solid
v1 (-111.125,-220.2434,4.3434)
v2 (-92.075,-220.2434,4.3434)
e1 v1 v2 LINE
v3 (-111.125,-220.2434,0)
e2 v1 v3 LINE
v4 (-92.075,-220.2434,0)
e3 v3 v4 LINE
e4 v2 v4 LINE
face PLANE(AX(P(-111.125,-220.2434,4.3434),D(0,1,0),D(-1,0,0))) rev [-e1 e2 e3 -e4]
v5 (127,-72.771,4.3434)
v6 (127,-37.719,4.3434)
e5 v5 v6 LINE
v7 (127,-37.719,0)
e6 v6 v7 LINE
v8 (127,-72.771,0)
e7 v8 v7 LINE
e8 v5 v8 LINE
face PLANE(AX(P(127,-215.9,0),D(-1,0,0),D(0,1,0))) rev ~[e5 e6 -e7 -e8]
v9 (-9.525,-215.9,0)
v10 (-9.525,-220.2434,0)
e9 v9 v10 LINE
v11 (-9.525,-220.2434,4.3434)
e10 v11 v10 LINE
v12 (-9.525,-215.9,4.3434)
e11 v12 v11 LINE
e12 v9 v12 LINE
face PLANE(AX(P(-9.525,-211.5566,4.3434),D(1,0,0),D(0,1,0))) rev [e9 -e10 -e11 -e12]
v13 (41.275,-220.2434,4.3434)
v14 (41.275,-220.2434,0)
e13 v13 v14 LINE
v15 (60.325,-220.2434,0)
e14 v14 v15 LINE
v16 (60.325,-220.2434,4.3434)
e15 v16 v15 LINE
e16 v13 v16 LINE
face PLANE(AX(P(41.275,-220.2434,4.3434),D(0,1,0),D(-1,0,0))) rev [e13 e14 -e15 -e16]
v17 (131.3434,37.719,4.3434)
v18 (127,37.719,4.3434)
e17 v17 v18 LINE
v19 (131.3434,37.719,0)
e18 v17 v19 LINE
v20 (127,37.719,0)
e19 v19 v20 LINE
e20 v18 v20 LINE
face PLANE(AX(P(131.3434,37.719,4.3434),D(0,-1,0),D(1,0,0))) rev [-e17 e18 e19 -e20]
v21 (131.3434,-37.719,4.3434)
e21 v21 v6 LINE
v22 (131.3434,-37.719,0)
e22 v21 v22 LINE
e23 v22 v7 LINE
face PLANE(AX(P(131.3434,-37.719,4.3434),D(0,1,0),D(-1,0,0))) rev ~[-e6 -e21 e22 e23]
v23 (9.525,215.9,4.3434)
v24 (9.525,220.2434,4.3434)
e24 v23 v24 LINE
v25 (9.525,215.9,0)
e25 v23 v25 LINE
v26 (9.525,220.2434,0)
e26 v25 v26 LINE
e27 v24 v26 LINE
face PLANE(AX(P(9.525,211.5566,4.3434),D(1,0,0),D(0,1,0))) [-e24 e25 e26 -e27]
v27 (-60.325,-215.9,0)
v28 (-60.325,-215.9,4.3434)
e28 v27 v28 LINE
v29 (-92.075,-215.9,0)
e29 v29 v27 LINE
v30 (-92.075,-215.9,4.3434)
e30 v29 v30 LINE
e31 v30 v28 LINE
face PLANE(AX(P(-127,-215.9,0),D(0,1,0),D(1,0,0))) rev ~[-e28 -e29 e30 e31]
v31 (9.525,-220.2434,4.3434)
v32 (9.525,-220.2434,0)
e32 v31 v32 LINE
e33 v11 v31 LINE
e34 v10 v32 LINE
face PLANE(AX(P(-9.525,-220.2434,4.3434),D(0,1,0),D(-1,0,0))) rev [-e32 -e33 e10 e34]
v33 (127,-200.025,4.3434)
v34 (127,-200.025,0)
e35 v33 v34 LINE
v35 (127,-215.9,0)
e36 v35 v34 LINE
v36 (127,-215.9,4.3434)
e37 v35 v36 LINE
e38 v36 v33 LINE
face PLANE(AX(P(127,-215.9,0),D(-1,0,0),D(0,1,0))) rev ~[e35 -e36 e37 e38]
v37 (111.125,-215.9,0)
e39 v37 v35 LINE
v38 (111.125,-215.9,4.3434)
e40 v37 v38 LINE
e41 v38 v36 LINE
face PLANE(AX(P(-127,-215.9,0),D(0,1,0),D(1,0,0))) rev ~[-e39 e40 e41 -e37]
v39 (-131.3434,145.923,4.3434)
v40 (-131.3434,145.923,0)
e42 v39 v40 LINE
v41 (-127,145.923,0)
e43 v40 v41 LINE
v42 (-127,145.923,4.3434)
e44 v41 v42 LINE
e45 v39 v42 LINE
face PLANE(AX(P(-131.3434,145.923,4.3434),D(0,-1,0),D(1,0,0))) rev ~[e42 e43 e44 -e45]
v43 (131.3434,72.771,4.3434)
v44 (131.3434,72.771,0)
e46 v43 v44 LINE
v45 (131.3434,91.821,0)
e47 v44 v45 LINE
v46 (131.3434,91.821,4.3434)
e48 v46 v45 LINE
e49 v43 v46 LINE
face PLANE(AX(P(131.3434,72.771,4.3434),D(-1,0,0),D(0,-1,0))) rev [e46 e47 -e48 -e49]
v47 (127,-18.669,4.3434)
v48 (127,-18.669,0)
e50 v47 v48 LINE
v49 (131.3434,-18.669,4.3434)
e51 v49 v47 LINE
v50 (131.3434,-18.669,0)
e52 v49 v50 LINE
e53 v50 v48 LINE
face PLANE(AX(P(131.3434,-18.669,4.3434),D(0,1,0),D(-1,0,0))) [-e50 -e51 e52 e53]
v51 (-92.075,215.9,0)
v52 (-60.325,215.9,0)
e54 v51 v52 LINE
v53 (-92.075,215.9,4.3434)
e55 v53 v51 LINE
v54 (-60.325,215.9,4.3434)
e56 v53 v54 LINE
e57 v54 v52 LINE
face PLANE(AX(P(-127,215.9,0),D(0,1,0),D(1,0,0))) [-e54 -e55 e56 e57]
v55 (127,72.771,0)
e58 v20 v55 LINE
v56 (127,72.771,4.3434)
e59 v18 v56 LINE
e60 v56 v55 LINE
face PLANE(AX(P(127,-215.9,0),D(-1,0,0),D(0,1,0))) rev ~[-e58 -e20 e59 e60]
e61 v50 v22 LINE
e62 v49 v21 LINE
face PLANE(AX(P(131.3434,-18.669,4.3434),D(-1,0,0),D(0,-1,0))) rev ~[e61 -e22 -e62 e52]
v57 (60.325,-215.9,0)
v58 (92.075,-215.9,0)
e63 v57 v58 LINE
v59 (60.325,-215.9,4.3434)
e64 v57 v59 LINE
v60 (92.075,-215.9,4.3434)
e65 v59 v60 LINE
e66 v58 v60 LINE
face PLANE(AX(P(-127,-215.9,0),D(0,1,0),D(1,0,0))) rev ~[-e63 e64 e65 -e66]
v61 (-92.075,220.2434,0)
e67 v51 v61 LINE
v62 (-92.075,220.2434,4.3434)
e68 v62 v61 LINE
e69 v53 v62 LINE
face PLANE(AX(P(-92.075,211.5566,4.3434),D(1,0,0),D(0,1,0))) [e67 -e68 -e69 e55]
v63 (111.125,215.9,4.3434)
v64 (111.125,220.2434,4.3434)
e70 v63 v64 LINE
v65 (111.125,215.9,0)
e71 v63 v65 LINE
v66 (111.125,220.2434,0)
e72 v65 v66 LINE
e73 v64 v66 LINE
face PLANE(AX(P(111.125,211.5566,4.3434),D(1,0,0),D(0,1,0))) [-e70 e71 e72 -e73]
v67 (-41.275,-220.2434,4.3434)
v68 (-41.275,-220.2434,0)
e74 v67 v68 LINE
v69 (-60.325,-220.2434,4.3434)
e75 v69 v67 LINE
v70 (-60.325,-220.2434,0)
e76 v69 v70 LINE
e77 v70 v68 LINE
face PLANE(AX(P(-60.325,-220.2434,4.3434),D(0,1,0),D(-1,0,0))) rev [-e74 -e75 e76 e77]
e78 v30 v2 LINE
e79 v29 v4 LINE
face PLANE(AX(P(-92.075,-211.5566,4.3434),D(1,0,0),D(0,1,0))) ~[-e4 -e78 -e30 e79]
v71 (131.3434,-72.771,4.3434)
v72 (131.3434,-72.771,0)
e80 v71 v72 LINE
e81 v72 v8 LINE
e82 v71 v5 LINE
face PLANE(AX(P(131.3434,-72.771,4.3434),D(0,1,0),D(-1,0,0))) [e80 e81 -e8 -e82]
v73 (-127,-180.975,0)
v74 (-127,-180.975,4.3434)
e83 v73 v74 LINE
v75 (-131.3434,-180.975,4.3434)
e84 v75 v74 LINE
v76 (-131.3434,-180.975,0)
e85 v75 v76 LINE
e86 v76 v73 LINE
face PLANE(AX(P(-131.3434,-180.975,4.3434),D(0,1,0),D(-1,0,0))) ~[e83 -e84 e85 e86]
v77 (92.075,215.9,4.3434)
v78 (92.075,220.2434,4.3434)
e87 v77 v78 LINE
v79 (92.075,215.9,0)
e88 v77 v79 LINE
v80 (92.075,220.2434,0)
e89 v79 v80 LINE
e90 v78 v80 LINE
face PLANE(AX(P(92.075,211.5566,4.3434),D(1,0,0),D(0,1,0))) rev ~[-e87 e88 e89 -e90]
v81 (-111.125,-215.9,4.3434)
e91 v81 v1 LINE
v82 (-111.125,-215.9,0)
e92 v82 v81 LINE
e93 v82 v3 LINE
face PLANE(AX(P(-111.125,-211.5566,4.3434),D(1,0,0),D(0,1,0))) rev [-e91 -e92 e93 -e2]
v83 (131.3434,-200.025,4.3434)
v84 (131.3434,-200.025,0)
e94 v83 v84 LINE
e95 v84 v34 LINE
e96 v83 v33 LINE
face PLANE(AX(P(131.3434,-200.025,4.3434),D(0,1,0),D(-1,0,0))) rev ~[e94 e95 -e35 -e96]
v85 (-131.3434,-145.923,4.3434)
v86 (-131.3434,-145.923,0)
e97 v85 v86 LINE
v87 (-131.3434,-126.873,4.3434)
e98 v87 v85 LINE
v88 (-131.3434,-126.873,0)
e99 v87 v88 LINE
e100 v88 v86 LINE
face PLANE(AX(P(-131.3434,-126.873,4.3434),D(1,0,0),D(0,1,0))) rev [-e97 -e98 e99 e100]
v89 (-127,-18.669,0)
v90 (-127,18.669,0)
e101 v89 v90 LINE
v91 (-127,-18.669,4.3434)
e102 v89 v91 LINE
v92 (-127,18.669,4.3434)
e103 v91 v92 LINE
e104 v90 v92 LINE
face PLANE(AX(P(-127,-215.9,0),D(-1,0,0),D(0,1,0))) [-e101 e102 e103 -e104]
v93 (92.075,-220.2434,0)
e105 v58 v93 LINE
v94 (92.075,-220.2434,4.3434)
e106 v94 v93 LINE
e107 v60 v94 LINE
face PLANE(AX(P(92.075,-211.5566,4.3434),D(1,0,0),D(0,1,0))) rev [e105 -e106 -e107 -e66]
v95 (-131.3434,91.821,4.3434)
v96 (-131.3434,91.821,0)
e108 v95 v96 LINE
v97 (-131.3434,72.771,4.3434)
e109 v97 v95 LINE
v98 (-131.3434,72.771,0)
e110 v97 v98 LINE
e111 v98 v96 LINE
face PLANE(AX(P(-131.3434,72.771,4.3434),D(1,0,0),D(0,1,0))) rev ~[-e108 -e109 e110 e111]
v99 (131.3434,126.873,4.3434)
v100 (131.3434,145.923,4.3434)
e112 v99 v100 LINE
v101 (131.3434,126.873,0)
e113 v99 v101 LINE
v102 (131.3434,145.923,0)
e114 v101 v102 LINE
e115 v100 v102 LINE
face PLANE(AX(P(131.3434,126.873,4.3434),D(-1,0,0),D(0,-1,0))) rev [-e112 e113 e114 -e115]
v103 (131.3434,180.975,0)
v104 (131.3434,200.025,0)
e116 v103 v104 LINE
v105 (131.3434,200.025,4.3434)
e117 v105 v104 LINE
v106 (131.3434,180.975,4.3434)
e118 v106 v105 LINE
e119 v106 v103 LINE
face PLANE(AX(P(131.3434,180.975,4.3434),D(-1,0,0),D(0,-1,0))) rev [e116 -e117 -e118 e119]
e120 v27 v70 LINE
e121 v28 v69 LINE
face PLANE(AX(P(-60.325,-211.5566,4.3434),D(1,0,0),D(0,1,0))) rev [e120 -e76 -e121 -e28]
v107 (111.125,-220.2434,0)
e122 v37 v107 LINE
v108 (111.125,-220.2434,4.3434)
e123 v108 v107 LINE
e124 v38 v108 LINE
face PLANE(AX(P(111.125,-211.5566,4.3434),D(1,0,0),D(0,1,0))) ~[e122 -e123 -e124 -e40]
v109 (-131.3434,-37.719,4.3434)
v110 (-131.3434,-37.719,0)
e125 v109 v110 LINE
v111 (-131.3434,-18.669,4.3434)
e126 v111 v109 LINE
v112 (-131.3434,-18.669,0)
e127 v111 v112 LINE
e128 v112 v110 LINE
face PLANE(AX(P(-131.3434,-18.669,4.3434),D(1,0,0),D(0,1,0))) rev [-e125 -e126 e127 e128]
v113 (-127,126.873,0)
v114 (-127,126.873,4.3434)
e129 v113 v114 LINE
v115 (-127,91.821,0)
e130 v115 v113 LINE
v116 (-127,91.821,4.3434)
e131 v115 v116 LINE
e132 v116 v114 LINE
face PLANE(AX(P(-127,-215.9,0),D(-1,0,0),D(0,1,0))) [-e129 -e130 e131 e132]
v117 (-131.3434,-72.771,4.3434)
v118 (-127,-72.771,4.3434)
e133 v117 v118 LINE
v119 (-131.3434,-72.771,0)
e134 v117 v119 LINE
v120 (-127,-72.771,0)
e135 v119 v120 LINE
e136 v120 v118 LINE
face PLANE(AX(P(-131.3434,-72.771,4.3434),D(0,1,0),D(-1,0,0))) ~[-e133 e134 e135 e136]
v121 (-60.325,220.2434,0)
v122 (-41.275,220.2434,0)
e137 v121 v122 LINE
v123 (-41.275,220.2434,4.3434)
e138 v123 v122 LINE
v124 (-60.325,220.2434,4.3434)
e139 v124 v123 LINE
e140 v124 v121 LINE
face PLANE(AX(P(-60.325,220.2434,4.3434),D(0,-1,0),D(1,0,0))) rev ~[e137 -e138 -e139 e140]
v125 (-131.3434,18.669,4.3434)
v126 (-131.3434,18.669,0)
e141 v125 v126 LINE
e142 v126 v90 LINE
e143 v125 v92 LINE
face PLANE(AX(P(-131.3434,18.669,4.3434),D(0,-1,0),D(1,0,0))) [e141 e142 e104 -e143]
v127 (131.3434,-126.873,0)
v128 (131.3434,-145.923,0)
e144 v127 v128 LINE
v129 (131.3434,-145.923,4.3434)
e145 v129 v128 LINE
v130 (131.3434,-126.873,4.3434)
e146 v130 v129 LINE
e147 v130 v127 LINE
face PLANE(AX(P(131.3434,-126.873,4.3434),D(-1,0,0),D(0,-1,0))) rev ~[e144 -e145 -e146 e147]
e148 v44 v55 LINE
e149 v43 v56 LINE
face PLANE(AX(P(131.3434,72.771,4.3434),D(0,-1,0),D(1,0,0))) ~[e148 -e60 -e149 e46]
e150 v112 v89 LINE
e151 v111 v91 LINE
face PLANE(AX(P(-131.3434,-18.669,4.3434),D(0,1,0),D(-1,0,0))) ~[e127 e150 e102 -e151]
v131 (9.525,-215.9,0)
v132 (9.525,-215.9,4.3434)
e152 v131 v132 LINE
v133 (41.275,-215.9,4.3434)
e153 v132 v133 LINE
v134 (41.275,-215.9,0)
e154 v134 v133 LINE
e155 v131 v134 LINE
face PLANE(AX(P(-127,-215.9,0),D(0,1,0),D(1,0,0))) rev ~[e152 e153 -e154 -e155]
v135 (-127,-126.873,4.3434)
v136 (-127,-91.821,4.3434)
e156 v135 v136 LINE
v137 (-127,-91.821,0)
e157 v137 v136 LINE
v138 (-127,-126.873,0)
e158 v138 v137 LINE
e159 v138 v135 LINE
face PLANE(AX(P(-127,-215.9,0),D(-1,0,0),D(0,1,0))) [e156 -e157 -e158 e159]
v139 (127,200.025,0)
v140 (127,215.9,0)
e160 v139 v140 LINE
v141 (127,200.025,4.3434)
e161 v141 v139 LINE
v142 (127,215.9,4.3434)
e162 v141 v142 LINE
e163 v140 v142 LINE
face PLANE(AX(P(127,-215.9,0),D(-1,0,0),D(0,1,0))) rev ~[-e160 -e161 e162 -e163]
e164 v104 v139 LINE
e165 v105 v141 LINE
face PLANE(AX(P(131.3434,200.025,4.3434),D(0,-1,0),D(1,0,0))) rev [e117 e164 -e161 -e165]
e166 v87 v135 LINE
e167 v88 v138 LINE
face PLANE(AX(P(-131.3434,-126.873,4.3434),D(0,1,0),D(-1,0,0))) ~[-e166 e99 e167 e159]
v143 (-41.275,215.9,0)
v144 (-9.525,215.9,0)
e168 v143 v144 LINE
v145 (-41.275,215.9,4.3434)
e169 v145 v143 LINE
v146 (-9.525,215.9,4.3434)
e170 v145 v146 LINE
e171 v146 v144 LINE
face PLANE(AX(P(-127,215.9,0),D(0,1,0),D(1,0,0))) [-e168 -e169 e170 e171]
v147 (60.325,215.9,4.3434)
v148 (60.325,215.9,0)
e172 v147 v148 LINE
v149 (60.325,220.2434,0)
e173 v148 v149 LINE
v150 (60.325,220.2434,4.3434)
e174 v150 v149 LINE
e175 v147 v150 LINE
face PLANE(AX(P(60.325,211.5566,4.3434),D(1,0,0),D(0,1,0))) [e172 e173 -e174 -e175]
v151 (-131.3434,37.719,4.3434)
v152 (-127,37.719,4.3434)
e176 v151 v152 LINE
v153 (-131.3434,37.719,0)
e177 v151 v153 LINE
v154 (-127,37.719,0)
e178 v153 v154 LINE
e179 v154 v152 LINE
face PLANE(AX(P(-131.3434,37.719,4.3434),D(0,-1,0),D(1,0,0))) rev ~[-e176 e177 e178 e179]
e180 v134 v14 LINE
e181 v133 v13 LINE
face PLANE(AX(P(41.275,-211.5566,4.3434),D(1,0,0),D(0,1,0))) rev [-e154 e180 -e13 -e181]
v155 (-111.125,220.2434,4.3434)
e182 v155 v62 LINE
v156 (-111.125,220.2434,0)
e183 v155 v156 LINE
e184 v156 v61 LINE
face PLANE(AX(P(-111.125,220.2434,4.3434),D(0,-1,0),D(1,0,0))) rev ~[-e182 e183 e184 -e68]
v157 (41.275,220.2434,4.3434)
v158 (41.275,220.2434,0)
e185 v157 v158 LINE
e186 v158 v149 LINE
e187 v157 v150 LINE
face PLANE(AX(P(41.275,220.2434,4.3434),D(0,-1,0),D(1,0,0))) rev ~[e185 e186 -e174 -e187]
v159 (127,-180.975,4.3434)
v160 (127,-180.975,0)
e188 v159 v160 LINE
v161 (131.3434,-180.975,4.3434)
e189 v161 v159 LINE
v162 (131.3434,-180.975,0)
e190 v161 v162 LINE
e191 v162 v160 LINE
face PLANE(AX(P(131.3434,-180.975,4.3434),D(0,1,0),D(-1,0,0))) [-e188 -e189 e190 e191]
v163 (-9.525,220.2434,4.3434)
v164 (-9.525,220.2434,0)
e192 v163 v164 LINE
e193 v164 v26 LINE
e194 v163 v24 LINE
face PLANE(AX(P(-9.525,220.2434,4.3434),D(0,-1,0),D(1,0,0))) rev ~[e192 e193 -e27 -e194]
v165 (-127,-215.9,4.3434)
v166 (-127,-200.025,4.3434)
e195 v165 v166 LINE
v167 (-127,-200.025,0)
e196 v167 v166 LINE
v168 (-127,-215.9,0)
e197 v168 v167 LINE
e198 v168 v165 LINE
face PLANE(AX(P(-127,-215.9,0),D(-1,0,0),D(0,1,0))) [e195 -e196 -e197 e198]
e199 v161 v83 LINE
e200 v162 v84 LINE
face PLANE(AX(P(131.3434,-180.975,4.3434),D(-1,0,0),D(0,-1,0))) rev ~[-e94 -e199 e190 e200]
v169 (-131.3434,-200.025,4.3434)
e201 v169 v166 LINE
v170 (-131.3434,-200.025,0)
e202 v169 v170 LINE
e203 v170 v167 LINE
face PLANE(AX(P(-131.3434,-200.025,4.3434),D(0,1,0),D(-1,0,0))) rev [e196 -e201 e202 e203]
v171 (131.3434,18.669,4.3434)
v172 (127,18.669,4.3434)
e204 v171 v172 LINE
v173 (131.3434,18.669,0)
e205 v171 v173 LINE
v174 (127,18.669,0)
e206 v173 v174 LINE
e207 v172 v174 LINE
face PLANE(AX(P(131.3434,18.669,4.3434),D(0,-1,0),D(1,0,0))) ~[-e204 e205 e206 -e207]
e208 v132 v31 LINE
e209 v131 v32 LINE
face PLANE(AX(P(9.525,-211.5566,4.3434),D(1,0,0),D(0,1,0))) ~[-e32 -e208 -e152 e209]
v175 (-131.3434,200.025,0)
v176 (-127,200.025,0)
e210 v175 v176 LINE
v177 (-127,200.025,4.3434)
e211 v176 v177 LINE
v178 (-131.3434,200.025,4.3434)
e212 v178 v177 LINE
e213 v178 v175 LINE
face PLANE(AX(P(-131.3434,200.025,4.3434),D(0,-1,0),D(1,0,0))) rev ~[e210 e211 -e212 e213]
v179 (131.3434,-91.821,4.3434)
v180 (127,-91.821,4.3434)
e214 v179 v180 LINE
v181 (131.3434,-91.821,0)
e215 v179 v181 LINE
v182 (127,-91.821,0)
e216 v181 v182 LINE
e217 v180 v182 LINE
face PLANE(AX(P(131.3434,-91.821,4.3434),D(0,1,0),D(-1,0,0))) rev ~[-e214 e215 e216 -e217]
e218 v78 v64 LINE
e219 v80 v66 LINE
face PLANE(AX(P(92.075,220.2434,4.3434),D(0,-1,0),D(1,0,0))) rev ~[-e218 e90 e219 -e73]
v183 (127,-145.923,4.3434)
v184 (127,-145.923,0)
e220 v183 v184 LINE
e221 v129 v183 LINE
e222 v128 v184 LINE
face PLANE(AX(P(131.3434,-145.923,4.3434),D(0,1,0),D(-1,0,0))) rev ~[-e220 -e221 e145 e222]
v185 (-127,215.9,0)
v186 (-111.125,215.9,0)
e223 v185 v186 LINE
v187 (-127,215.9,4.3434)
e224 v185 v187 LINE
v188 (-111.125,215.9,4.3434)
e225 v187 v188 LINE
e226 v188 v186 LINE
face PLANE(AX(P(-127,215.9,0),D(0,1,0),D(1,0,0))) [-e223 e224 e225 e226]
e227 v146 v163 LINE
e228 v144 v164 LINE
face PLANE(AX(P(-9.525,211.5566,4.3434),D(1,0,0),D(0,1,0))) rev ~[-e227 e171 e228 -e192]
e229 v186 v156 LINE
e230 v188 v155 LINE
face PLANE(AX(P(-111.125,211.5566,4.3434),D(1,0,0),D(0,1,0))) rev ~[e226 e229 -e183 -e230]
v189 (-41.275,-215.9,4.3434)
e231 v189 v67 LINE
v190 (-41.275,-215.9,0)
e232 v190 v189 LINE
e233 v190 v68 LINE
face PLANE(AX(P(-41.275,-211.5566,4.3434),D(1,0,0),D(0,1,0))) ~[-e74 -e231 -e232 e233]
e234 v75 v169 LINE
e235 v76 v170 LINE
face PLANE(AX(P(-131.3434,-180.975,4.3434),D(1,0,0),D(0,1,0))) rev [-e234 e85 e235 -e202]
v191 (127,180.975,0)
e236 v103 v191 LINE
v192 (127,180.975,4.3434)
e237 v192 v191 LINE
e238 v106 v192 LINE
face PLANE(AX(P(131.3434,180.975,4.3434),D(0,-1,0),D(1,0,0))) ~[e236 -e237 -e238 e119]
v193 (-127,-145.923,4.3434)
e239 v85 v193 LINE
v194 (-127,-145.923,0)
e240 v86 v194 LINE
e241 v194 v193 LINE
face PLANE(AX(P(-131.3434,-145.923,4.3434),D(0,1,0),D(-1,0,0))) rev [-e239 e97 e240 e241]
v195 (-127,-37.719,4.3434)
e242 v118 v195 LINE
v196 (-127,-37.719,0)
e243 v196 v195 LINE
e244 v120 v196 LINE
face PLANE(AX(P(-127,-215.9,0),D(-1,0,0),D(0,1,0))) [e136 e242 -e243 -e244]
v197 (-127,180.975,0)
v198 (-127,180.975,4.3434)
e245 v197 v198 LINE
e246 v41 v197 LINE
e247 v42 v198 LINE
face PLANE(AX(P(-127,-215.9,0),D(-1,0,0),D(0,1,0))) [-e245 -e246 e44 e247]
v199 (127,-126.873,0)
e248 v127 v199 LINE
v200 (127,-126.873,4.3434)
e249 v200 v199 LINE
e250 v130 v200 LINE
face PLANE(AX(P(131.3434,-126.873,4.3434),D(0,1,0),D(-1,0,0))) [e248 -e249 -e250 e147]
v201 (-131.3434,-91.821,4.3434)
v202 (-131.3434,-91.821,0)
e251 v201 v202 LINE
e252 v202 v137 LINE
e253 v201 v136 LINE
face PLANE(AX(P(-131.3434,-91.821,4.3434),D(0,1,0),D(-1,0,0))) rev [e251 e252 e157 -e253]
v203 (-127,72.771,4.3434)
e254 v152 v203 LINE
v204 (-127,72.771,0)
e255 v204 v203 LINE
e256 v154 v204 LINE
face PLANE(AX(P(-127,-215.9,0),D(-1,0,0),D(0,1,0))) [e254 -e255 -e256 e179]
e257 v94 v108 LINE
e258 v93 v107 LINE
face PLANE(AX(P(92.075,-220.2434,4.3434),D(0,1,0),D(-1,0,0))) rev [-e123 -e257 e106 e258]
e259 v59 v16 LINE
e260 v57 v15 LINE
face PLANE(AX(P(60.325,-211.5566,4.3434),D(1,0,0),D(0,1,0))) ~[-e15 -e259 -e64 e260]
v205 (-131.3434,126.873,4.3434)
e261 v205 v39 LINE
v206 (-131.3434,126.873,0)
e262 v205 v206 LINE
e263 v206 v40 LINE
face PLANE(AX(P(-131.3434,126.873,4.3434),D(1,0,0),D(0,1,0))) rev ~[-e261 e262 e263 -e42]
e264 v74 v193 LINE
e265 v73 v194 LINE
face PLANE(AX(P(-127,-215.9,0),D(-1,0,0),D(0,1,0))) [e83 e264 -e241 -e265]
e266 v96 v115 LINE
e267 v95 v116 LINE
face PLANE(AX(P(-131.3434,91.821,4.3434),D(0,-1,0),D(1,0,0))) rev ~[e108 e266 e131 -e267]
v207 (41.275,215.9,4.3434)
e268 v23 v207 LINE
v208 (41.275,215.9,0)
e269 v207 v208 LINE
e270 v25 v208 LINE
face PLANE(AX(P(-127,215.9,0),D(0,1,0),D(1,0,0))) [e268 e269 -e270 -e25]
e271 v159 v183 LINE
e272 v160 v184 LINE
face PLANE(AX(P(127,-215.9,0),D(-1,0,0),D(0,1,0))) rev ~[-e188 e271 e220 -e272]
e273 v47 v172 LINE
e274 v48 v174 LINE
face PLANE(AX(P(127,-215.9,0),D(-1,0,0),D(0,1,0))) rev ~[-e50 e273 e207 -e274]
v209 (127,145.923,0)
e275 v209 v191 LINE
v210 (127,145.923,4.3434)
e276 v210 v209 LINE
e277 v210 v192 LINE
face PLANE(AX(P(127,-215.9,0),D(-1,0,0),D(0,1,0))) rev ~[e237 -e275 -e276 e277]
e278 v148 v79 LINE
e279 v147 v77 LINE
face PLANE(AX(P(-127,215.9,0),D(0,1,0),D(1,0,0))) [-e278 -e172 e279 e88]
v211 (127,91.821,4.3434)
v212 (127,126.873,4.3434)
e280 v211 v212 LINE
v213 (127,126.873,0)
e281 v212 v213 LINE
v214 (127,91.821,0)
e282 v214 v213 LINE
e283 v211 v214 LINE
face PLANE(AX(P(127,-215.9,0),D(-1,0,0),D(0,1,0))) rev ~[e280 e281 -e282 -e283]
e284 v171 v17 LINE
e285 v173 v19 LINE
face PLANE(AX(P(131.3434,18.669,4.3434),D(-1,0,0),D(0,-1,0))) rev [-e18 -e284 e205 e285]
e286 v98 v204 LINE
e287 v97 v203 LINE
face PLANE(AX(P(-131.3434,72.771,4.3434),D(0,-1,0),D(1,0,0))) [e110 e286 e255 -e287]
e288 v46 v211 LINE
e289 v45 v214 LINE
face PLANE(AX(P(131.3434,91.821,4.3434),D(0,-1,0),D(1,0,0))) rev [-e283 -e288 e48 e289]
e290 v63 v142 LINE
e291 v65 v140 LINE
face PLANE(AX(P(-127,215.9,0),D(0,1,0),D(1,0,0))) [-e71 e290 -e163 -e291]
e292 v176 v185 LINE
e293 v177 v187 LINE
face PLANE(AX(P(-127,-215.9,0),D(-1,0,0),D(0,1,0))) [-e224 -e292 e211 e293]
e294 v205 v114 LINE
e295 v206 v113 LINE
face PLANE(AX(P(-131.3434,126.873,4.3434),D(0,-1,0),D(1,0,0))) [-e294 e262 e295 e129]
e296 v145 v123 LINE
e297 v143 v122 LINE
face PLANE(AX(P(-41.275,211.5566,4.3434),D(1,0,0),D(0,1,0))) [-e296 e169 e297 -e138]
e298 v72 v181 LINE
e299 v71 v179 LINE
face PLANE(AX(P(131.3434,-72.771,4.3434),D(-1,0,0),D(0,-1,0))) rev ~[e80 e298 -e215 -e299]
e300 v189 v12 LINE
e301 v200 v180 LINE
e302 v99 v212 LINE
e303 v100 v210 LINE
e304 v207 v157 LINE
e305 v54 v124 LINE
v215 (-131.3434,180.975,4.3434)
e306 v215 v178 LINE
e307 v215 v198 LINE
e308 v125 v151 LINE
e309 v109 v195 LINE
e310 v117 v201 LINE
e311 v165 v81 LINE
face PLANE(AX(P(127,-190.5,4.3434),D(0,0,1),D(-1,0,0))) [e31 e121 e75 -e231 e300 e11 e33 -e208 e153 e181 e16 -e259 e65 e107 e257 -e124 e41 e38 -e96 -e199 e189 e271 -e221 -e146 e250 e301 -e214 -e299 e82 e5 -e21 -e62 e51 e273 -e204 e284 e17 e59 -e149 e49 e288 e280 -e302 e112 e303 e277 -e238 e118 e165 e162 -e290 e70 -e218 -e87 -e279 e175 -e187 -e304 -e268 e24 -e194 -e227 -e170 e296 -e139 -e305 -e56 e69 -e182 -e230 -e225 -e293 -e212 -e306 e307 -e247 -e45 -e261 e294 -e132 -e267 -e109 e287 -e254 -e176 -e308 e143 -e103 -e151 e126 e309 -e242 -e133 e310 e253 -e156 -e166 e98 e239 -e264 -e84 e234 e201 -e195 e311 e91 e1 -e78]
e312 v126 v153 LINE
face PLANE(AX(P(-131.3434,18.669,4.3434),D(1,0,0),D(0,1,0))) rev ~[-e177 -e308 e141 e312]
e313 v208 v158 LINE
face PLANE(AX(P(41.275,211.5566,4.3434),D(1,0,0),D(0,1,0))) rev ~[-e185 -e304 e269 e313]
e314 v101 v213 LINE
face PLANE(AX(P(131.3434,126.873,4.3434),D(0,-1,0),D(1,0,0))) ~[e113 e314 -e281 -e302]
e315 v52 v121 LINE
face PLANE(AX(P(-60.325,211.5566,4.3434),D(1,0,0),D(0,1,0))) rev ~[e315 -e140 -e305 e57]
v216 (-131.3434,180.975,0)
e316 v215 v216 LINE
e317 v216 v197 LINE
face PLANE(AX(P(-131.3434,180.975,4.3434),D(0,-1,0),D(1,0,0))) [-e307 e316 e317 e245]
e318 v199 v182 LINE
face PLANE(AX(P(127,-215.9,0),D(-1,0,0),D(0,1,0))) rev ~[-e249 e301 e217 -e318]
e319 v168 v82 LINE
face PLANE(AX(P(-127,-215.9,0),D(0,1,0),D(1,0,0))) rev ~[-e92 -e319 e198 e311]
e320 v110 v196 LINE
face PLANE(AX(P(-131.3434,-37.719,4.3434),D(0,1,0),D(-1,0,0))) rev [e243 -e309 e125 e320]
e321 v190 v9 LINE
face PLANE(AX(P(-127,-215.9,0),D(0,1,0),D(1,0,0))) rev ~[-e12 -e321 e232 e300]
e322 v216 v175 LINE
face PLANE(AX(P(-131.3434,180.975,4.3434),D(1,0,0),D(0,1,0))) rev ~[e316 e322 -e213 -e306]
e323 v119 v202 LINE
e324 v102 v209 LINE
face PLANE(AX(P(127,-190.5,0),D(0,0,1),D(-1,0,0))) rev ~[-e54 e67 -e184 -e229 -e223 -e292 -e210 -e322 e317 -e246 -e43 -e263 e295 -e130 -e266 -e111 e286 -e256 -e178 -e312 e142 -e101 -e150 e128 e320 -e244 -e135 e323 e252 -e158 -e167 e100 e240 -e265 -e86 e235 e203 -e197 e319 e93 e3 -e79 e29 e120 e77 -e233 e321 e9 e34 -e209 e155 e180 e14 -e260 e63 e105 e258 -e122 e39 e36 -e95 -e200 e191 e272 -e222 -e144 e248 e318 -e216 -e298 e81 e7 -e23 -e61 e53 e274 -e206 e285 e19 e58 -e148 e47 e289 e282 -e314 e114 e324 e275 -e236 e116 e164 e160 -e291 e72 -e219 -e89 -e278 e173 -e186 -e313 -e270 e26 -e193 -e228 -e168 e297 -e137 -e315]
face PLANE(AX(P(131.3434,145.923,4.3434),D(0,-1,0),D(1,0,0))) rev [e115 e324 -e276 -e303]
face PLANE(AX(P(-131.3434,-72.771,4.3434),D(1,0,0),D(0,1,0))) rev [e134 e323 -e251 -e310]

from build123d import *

# Parameters (mm, degrees)
SKETCH1_W                 = 254
SKETCH1_H                 = 431.8
BOSS_EXTRUDE1_DEPTH       = 4.3434
SKETCH2_W                 = 8.6868
SKETCH2_H                 = 19.05
SKETCH2_W_2               = 19.05
SKETCH2_H_2               = 8.6868
BOSS_EXTRUDE2_DEPTH       = 4.3434
MIRROR2_COPY_1_SKETCH_W   = 8.6868
MIRROR2_COPY_1_SKETCH_H   = 19.05
MIRROR2_COPY_1_SKETCH_W_2 = 19.05
MIRROR2_COPY_1_SKETCH_H_2 = 8.6868
MIRROR2_COPY_1_DEPTH      = 4.3434


with BuildPart() as part:
    # Sketch1 → Boss-Extrude1 (new body)
    with BuildSketch(Plane.XY):
        Rectangle(SKETCH1_W, SKETCH1_H)
    extrude(amount=BOSS_EXTRUDE1_DEPTH)

    # Sketch2 → Boss-Extrude2 (add)
    with BuildSketch(Plane.XY.offset(4.3434)):
        with Locations((-127, 190.5)):
            Rectangle(SKETCH2_W, SKETCH2_H)
        with Locations((-101.6, 215.9)):
            Rectangle(SKETCH2_W_2, SKETCH2_H_2)
        with Locations((-50.8, 215.9)):
            Rectangle(SKETCH2_W_2, SKETCH2_H_2)
        with Locations((0, 215.9)):
            Rectangle(SKETCH2_W_2, SKETCH2_H_2)
        with Locations((50.8, 215.9)):
            Rectangle(SKETCH2_W_2, SKETCH2_H_2)
        with Locations((101.6, 215.9)):
            Rectangle(SKETCH2_W_2, SKETCH2_H_2)
        with Locations((-127, 136.398)):
            Rectangle(SKETCH2_W, SKETCH2_H)
        with Locations((-127, 82.296)):
            Rectangle(SKETCH2_W, SKETCH2_H)
        with Locations((-127, 28.194)):
            Rectangle(SKETCH2_W, SKETCH2_H)
    boss_extrude2 = extrude(amount=-BOSS_EXTRUDE2_DEPTH)

    # Mirror1: Boss-Extrude2 across plane
    add(boss_extrude2.mirror(Plane(origin=(0, 0, 0), x_dir=(0, 0, 1), z_dir=(1, 0, 0))))

    # Mirror2: Boss-Extrude2 across plane
    add(boss_extrude2.mirror(Plane.ZX))

    # Mirror2 copy 1 sketch → Mirror2 copy 1 (add)
    with BuildSketch(Plane(origin=(0, 0, 4.3434), x_dir=(-1, 0, 0), z_dir=(0, 0, 1))):
        with Locations((-127, 190.5)):
            Rectangle(MIRROR2_COPY_1_SKETCH_W, MIRROR2_COPY_1_SKETCH_H)
        with Locations((-101.6, 215.9)):
            Rectangle(MIRROR2_COPY_1_SKETCH_W_2, MIRROR2_COPY_1_SKETCH_H_2)
        with Locations((-50.8, 215.9)):
            Rectangle(MIRROR2_COPY_1_SKETCH_W_2, MIRROR2_COPY_1_SKETCH_H_2)
        with Locations((0, 215.9)):
            Rectangle(MIRROR2_COPY_1_SKETCH_W_2, MIRROR2_COPY_1_SKETCH_H_2)
        with Locations((50.8, 215.9)):
            Rectangle(MIRROR2_COPY_1_SKETCH_W_2, MIRROR2_COPY_1_SKETCH_H_2)
        with Locations((101.6, 215.9)):
            Rectangle(MIRROR2_COPY_1_SKETCH_W_2, MIRROR2_COPY_1_SKETCH_H_2)
        with Locations((-127, 136.398)):
            Rectangle(MIRROR2_COPY_1_SKETCH_W, MIRROR2_COPY_1_SKETCH_H)
        with Locations((-127, 82.296)):
            Rectangle(MIRROR2_COPY_1_SKETCH_W, MIRROR2_COPY_1_SKETCH_H)
        with Locations((-127, 28.194)):
            Rectangle(MIRROR2_COPY_1_SKETCH_W, MIRROR2_COPY_1_SKETCH_H)
    extrude(amount=-MIRROR2_COPY_1_DEPTH)


solid = part.part
